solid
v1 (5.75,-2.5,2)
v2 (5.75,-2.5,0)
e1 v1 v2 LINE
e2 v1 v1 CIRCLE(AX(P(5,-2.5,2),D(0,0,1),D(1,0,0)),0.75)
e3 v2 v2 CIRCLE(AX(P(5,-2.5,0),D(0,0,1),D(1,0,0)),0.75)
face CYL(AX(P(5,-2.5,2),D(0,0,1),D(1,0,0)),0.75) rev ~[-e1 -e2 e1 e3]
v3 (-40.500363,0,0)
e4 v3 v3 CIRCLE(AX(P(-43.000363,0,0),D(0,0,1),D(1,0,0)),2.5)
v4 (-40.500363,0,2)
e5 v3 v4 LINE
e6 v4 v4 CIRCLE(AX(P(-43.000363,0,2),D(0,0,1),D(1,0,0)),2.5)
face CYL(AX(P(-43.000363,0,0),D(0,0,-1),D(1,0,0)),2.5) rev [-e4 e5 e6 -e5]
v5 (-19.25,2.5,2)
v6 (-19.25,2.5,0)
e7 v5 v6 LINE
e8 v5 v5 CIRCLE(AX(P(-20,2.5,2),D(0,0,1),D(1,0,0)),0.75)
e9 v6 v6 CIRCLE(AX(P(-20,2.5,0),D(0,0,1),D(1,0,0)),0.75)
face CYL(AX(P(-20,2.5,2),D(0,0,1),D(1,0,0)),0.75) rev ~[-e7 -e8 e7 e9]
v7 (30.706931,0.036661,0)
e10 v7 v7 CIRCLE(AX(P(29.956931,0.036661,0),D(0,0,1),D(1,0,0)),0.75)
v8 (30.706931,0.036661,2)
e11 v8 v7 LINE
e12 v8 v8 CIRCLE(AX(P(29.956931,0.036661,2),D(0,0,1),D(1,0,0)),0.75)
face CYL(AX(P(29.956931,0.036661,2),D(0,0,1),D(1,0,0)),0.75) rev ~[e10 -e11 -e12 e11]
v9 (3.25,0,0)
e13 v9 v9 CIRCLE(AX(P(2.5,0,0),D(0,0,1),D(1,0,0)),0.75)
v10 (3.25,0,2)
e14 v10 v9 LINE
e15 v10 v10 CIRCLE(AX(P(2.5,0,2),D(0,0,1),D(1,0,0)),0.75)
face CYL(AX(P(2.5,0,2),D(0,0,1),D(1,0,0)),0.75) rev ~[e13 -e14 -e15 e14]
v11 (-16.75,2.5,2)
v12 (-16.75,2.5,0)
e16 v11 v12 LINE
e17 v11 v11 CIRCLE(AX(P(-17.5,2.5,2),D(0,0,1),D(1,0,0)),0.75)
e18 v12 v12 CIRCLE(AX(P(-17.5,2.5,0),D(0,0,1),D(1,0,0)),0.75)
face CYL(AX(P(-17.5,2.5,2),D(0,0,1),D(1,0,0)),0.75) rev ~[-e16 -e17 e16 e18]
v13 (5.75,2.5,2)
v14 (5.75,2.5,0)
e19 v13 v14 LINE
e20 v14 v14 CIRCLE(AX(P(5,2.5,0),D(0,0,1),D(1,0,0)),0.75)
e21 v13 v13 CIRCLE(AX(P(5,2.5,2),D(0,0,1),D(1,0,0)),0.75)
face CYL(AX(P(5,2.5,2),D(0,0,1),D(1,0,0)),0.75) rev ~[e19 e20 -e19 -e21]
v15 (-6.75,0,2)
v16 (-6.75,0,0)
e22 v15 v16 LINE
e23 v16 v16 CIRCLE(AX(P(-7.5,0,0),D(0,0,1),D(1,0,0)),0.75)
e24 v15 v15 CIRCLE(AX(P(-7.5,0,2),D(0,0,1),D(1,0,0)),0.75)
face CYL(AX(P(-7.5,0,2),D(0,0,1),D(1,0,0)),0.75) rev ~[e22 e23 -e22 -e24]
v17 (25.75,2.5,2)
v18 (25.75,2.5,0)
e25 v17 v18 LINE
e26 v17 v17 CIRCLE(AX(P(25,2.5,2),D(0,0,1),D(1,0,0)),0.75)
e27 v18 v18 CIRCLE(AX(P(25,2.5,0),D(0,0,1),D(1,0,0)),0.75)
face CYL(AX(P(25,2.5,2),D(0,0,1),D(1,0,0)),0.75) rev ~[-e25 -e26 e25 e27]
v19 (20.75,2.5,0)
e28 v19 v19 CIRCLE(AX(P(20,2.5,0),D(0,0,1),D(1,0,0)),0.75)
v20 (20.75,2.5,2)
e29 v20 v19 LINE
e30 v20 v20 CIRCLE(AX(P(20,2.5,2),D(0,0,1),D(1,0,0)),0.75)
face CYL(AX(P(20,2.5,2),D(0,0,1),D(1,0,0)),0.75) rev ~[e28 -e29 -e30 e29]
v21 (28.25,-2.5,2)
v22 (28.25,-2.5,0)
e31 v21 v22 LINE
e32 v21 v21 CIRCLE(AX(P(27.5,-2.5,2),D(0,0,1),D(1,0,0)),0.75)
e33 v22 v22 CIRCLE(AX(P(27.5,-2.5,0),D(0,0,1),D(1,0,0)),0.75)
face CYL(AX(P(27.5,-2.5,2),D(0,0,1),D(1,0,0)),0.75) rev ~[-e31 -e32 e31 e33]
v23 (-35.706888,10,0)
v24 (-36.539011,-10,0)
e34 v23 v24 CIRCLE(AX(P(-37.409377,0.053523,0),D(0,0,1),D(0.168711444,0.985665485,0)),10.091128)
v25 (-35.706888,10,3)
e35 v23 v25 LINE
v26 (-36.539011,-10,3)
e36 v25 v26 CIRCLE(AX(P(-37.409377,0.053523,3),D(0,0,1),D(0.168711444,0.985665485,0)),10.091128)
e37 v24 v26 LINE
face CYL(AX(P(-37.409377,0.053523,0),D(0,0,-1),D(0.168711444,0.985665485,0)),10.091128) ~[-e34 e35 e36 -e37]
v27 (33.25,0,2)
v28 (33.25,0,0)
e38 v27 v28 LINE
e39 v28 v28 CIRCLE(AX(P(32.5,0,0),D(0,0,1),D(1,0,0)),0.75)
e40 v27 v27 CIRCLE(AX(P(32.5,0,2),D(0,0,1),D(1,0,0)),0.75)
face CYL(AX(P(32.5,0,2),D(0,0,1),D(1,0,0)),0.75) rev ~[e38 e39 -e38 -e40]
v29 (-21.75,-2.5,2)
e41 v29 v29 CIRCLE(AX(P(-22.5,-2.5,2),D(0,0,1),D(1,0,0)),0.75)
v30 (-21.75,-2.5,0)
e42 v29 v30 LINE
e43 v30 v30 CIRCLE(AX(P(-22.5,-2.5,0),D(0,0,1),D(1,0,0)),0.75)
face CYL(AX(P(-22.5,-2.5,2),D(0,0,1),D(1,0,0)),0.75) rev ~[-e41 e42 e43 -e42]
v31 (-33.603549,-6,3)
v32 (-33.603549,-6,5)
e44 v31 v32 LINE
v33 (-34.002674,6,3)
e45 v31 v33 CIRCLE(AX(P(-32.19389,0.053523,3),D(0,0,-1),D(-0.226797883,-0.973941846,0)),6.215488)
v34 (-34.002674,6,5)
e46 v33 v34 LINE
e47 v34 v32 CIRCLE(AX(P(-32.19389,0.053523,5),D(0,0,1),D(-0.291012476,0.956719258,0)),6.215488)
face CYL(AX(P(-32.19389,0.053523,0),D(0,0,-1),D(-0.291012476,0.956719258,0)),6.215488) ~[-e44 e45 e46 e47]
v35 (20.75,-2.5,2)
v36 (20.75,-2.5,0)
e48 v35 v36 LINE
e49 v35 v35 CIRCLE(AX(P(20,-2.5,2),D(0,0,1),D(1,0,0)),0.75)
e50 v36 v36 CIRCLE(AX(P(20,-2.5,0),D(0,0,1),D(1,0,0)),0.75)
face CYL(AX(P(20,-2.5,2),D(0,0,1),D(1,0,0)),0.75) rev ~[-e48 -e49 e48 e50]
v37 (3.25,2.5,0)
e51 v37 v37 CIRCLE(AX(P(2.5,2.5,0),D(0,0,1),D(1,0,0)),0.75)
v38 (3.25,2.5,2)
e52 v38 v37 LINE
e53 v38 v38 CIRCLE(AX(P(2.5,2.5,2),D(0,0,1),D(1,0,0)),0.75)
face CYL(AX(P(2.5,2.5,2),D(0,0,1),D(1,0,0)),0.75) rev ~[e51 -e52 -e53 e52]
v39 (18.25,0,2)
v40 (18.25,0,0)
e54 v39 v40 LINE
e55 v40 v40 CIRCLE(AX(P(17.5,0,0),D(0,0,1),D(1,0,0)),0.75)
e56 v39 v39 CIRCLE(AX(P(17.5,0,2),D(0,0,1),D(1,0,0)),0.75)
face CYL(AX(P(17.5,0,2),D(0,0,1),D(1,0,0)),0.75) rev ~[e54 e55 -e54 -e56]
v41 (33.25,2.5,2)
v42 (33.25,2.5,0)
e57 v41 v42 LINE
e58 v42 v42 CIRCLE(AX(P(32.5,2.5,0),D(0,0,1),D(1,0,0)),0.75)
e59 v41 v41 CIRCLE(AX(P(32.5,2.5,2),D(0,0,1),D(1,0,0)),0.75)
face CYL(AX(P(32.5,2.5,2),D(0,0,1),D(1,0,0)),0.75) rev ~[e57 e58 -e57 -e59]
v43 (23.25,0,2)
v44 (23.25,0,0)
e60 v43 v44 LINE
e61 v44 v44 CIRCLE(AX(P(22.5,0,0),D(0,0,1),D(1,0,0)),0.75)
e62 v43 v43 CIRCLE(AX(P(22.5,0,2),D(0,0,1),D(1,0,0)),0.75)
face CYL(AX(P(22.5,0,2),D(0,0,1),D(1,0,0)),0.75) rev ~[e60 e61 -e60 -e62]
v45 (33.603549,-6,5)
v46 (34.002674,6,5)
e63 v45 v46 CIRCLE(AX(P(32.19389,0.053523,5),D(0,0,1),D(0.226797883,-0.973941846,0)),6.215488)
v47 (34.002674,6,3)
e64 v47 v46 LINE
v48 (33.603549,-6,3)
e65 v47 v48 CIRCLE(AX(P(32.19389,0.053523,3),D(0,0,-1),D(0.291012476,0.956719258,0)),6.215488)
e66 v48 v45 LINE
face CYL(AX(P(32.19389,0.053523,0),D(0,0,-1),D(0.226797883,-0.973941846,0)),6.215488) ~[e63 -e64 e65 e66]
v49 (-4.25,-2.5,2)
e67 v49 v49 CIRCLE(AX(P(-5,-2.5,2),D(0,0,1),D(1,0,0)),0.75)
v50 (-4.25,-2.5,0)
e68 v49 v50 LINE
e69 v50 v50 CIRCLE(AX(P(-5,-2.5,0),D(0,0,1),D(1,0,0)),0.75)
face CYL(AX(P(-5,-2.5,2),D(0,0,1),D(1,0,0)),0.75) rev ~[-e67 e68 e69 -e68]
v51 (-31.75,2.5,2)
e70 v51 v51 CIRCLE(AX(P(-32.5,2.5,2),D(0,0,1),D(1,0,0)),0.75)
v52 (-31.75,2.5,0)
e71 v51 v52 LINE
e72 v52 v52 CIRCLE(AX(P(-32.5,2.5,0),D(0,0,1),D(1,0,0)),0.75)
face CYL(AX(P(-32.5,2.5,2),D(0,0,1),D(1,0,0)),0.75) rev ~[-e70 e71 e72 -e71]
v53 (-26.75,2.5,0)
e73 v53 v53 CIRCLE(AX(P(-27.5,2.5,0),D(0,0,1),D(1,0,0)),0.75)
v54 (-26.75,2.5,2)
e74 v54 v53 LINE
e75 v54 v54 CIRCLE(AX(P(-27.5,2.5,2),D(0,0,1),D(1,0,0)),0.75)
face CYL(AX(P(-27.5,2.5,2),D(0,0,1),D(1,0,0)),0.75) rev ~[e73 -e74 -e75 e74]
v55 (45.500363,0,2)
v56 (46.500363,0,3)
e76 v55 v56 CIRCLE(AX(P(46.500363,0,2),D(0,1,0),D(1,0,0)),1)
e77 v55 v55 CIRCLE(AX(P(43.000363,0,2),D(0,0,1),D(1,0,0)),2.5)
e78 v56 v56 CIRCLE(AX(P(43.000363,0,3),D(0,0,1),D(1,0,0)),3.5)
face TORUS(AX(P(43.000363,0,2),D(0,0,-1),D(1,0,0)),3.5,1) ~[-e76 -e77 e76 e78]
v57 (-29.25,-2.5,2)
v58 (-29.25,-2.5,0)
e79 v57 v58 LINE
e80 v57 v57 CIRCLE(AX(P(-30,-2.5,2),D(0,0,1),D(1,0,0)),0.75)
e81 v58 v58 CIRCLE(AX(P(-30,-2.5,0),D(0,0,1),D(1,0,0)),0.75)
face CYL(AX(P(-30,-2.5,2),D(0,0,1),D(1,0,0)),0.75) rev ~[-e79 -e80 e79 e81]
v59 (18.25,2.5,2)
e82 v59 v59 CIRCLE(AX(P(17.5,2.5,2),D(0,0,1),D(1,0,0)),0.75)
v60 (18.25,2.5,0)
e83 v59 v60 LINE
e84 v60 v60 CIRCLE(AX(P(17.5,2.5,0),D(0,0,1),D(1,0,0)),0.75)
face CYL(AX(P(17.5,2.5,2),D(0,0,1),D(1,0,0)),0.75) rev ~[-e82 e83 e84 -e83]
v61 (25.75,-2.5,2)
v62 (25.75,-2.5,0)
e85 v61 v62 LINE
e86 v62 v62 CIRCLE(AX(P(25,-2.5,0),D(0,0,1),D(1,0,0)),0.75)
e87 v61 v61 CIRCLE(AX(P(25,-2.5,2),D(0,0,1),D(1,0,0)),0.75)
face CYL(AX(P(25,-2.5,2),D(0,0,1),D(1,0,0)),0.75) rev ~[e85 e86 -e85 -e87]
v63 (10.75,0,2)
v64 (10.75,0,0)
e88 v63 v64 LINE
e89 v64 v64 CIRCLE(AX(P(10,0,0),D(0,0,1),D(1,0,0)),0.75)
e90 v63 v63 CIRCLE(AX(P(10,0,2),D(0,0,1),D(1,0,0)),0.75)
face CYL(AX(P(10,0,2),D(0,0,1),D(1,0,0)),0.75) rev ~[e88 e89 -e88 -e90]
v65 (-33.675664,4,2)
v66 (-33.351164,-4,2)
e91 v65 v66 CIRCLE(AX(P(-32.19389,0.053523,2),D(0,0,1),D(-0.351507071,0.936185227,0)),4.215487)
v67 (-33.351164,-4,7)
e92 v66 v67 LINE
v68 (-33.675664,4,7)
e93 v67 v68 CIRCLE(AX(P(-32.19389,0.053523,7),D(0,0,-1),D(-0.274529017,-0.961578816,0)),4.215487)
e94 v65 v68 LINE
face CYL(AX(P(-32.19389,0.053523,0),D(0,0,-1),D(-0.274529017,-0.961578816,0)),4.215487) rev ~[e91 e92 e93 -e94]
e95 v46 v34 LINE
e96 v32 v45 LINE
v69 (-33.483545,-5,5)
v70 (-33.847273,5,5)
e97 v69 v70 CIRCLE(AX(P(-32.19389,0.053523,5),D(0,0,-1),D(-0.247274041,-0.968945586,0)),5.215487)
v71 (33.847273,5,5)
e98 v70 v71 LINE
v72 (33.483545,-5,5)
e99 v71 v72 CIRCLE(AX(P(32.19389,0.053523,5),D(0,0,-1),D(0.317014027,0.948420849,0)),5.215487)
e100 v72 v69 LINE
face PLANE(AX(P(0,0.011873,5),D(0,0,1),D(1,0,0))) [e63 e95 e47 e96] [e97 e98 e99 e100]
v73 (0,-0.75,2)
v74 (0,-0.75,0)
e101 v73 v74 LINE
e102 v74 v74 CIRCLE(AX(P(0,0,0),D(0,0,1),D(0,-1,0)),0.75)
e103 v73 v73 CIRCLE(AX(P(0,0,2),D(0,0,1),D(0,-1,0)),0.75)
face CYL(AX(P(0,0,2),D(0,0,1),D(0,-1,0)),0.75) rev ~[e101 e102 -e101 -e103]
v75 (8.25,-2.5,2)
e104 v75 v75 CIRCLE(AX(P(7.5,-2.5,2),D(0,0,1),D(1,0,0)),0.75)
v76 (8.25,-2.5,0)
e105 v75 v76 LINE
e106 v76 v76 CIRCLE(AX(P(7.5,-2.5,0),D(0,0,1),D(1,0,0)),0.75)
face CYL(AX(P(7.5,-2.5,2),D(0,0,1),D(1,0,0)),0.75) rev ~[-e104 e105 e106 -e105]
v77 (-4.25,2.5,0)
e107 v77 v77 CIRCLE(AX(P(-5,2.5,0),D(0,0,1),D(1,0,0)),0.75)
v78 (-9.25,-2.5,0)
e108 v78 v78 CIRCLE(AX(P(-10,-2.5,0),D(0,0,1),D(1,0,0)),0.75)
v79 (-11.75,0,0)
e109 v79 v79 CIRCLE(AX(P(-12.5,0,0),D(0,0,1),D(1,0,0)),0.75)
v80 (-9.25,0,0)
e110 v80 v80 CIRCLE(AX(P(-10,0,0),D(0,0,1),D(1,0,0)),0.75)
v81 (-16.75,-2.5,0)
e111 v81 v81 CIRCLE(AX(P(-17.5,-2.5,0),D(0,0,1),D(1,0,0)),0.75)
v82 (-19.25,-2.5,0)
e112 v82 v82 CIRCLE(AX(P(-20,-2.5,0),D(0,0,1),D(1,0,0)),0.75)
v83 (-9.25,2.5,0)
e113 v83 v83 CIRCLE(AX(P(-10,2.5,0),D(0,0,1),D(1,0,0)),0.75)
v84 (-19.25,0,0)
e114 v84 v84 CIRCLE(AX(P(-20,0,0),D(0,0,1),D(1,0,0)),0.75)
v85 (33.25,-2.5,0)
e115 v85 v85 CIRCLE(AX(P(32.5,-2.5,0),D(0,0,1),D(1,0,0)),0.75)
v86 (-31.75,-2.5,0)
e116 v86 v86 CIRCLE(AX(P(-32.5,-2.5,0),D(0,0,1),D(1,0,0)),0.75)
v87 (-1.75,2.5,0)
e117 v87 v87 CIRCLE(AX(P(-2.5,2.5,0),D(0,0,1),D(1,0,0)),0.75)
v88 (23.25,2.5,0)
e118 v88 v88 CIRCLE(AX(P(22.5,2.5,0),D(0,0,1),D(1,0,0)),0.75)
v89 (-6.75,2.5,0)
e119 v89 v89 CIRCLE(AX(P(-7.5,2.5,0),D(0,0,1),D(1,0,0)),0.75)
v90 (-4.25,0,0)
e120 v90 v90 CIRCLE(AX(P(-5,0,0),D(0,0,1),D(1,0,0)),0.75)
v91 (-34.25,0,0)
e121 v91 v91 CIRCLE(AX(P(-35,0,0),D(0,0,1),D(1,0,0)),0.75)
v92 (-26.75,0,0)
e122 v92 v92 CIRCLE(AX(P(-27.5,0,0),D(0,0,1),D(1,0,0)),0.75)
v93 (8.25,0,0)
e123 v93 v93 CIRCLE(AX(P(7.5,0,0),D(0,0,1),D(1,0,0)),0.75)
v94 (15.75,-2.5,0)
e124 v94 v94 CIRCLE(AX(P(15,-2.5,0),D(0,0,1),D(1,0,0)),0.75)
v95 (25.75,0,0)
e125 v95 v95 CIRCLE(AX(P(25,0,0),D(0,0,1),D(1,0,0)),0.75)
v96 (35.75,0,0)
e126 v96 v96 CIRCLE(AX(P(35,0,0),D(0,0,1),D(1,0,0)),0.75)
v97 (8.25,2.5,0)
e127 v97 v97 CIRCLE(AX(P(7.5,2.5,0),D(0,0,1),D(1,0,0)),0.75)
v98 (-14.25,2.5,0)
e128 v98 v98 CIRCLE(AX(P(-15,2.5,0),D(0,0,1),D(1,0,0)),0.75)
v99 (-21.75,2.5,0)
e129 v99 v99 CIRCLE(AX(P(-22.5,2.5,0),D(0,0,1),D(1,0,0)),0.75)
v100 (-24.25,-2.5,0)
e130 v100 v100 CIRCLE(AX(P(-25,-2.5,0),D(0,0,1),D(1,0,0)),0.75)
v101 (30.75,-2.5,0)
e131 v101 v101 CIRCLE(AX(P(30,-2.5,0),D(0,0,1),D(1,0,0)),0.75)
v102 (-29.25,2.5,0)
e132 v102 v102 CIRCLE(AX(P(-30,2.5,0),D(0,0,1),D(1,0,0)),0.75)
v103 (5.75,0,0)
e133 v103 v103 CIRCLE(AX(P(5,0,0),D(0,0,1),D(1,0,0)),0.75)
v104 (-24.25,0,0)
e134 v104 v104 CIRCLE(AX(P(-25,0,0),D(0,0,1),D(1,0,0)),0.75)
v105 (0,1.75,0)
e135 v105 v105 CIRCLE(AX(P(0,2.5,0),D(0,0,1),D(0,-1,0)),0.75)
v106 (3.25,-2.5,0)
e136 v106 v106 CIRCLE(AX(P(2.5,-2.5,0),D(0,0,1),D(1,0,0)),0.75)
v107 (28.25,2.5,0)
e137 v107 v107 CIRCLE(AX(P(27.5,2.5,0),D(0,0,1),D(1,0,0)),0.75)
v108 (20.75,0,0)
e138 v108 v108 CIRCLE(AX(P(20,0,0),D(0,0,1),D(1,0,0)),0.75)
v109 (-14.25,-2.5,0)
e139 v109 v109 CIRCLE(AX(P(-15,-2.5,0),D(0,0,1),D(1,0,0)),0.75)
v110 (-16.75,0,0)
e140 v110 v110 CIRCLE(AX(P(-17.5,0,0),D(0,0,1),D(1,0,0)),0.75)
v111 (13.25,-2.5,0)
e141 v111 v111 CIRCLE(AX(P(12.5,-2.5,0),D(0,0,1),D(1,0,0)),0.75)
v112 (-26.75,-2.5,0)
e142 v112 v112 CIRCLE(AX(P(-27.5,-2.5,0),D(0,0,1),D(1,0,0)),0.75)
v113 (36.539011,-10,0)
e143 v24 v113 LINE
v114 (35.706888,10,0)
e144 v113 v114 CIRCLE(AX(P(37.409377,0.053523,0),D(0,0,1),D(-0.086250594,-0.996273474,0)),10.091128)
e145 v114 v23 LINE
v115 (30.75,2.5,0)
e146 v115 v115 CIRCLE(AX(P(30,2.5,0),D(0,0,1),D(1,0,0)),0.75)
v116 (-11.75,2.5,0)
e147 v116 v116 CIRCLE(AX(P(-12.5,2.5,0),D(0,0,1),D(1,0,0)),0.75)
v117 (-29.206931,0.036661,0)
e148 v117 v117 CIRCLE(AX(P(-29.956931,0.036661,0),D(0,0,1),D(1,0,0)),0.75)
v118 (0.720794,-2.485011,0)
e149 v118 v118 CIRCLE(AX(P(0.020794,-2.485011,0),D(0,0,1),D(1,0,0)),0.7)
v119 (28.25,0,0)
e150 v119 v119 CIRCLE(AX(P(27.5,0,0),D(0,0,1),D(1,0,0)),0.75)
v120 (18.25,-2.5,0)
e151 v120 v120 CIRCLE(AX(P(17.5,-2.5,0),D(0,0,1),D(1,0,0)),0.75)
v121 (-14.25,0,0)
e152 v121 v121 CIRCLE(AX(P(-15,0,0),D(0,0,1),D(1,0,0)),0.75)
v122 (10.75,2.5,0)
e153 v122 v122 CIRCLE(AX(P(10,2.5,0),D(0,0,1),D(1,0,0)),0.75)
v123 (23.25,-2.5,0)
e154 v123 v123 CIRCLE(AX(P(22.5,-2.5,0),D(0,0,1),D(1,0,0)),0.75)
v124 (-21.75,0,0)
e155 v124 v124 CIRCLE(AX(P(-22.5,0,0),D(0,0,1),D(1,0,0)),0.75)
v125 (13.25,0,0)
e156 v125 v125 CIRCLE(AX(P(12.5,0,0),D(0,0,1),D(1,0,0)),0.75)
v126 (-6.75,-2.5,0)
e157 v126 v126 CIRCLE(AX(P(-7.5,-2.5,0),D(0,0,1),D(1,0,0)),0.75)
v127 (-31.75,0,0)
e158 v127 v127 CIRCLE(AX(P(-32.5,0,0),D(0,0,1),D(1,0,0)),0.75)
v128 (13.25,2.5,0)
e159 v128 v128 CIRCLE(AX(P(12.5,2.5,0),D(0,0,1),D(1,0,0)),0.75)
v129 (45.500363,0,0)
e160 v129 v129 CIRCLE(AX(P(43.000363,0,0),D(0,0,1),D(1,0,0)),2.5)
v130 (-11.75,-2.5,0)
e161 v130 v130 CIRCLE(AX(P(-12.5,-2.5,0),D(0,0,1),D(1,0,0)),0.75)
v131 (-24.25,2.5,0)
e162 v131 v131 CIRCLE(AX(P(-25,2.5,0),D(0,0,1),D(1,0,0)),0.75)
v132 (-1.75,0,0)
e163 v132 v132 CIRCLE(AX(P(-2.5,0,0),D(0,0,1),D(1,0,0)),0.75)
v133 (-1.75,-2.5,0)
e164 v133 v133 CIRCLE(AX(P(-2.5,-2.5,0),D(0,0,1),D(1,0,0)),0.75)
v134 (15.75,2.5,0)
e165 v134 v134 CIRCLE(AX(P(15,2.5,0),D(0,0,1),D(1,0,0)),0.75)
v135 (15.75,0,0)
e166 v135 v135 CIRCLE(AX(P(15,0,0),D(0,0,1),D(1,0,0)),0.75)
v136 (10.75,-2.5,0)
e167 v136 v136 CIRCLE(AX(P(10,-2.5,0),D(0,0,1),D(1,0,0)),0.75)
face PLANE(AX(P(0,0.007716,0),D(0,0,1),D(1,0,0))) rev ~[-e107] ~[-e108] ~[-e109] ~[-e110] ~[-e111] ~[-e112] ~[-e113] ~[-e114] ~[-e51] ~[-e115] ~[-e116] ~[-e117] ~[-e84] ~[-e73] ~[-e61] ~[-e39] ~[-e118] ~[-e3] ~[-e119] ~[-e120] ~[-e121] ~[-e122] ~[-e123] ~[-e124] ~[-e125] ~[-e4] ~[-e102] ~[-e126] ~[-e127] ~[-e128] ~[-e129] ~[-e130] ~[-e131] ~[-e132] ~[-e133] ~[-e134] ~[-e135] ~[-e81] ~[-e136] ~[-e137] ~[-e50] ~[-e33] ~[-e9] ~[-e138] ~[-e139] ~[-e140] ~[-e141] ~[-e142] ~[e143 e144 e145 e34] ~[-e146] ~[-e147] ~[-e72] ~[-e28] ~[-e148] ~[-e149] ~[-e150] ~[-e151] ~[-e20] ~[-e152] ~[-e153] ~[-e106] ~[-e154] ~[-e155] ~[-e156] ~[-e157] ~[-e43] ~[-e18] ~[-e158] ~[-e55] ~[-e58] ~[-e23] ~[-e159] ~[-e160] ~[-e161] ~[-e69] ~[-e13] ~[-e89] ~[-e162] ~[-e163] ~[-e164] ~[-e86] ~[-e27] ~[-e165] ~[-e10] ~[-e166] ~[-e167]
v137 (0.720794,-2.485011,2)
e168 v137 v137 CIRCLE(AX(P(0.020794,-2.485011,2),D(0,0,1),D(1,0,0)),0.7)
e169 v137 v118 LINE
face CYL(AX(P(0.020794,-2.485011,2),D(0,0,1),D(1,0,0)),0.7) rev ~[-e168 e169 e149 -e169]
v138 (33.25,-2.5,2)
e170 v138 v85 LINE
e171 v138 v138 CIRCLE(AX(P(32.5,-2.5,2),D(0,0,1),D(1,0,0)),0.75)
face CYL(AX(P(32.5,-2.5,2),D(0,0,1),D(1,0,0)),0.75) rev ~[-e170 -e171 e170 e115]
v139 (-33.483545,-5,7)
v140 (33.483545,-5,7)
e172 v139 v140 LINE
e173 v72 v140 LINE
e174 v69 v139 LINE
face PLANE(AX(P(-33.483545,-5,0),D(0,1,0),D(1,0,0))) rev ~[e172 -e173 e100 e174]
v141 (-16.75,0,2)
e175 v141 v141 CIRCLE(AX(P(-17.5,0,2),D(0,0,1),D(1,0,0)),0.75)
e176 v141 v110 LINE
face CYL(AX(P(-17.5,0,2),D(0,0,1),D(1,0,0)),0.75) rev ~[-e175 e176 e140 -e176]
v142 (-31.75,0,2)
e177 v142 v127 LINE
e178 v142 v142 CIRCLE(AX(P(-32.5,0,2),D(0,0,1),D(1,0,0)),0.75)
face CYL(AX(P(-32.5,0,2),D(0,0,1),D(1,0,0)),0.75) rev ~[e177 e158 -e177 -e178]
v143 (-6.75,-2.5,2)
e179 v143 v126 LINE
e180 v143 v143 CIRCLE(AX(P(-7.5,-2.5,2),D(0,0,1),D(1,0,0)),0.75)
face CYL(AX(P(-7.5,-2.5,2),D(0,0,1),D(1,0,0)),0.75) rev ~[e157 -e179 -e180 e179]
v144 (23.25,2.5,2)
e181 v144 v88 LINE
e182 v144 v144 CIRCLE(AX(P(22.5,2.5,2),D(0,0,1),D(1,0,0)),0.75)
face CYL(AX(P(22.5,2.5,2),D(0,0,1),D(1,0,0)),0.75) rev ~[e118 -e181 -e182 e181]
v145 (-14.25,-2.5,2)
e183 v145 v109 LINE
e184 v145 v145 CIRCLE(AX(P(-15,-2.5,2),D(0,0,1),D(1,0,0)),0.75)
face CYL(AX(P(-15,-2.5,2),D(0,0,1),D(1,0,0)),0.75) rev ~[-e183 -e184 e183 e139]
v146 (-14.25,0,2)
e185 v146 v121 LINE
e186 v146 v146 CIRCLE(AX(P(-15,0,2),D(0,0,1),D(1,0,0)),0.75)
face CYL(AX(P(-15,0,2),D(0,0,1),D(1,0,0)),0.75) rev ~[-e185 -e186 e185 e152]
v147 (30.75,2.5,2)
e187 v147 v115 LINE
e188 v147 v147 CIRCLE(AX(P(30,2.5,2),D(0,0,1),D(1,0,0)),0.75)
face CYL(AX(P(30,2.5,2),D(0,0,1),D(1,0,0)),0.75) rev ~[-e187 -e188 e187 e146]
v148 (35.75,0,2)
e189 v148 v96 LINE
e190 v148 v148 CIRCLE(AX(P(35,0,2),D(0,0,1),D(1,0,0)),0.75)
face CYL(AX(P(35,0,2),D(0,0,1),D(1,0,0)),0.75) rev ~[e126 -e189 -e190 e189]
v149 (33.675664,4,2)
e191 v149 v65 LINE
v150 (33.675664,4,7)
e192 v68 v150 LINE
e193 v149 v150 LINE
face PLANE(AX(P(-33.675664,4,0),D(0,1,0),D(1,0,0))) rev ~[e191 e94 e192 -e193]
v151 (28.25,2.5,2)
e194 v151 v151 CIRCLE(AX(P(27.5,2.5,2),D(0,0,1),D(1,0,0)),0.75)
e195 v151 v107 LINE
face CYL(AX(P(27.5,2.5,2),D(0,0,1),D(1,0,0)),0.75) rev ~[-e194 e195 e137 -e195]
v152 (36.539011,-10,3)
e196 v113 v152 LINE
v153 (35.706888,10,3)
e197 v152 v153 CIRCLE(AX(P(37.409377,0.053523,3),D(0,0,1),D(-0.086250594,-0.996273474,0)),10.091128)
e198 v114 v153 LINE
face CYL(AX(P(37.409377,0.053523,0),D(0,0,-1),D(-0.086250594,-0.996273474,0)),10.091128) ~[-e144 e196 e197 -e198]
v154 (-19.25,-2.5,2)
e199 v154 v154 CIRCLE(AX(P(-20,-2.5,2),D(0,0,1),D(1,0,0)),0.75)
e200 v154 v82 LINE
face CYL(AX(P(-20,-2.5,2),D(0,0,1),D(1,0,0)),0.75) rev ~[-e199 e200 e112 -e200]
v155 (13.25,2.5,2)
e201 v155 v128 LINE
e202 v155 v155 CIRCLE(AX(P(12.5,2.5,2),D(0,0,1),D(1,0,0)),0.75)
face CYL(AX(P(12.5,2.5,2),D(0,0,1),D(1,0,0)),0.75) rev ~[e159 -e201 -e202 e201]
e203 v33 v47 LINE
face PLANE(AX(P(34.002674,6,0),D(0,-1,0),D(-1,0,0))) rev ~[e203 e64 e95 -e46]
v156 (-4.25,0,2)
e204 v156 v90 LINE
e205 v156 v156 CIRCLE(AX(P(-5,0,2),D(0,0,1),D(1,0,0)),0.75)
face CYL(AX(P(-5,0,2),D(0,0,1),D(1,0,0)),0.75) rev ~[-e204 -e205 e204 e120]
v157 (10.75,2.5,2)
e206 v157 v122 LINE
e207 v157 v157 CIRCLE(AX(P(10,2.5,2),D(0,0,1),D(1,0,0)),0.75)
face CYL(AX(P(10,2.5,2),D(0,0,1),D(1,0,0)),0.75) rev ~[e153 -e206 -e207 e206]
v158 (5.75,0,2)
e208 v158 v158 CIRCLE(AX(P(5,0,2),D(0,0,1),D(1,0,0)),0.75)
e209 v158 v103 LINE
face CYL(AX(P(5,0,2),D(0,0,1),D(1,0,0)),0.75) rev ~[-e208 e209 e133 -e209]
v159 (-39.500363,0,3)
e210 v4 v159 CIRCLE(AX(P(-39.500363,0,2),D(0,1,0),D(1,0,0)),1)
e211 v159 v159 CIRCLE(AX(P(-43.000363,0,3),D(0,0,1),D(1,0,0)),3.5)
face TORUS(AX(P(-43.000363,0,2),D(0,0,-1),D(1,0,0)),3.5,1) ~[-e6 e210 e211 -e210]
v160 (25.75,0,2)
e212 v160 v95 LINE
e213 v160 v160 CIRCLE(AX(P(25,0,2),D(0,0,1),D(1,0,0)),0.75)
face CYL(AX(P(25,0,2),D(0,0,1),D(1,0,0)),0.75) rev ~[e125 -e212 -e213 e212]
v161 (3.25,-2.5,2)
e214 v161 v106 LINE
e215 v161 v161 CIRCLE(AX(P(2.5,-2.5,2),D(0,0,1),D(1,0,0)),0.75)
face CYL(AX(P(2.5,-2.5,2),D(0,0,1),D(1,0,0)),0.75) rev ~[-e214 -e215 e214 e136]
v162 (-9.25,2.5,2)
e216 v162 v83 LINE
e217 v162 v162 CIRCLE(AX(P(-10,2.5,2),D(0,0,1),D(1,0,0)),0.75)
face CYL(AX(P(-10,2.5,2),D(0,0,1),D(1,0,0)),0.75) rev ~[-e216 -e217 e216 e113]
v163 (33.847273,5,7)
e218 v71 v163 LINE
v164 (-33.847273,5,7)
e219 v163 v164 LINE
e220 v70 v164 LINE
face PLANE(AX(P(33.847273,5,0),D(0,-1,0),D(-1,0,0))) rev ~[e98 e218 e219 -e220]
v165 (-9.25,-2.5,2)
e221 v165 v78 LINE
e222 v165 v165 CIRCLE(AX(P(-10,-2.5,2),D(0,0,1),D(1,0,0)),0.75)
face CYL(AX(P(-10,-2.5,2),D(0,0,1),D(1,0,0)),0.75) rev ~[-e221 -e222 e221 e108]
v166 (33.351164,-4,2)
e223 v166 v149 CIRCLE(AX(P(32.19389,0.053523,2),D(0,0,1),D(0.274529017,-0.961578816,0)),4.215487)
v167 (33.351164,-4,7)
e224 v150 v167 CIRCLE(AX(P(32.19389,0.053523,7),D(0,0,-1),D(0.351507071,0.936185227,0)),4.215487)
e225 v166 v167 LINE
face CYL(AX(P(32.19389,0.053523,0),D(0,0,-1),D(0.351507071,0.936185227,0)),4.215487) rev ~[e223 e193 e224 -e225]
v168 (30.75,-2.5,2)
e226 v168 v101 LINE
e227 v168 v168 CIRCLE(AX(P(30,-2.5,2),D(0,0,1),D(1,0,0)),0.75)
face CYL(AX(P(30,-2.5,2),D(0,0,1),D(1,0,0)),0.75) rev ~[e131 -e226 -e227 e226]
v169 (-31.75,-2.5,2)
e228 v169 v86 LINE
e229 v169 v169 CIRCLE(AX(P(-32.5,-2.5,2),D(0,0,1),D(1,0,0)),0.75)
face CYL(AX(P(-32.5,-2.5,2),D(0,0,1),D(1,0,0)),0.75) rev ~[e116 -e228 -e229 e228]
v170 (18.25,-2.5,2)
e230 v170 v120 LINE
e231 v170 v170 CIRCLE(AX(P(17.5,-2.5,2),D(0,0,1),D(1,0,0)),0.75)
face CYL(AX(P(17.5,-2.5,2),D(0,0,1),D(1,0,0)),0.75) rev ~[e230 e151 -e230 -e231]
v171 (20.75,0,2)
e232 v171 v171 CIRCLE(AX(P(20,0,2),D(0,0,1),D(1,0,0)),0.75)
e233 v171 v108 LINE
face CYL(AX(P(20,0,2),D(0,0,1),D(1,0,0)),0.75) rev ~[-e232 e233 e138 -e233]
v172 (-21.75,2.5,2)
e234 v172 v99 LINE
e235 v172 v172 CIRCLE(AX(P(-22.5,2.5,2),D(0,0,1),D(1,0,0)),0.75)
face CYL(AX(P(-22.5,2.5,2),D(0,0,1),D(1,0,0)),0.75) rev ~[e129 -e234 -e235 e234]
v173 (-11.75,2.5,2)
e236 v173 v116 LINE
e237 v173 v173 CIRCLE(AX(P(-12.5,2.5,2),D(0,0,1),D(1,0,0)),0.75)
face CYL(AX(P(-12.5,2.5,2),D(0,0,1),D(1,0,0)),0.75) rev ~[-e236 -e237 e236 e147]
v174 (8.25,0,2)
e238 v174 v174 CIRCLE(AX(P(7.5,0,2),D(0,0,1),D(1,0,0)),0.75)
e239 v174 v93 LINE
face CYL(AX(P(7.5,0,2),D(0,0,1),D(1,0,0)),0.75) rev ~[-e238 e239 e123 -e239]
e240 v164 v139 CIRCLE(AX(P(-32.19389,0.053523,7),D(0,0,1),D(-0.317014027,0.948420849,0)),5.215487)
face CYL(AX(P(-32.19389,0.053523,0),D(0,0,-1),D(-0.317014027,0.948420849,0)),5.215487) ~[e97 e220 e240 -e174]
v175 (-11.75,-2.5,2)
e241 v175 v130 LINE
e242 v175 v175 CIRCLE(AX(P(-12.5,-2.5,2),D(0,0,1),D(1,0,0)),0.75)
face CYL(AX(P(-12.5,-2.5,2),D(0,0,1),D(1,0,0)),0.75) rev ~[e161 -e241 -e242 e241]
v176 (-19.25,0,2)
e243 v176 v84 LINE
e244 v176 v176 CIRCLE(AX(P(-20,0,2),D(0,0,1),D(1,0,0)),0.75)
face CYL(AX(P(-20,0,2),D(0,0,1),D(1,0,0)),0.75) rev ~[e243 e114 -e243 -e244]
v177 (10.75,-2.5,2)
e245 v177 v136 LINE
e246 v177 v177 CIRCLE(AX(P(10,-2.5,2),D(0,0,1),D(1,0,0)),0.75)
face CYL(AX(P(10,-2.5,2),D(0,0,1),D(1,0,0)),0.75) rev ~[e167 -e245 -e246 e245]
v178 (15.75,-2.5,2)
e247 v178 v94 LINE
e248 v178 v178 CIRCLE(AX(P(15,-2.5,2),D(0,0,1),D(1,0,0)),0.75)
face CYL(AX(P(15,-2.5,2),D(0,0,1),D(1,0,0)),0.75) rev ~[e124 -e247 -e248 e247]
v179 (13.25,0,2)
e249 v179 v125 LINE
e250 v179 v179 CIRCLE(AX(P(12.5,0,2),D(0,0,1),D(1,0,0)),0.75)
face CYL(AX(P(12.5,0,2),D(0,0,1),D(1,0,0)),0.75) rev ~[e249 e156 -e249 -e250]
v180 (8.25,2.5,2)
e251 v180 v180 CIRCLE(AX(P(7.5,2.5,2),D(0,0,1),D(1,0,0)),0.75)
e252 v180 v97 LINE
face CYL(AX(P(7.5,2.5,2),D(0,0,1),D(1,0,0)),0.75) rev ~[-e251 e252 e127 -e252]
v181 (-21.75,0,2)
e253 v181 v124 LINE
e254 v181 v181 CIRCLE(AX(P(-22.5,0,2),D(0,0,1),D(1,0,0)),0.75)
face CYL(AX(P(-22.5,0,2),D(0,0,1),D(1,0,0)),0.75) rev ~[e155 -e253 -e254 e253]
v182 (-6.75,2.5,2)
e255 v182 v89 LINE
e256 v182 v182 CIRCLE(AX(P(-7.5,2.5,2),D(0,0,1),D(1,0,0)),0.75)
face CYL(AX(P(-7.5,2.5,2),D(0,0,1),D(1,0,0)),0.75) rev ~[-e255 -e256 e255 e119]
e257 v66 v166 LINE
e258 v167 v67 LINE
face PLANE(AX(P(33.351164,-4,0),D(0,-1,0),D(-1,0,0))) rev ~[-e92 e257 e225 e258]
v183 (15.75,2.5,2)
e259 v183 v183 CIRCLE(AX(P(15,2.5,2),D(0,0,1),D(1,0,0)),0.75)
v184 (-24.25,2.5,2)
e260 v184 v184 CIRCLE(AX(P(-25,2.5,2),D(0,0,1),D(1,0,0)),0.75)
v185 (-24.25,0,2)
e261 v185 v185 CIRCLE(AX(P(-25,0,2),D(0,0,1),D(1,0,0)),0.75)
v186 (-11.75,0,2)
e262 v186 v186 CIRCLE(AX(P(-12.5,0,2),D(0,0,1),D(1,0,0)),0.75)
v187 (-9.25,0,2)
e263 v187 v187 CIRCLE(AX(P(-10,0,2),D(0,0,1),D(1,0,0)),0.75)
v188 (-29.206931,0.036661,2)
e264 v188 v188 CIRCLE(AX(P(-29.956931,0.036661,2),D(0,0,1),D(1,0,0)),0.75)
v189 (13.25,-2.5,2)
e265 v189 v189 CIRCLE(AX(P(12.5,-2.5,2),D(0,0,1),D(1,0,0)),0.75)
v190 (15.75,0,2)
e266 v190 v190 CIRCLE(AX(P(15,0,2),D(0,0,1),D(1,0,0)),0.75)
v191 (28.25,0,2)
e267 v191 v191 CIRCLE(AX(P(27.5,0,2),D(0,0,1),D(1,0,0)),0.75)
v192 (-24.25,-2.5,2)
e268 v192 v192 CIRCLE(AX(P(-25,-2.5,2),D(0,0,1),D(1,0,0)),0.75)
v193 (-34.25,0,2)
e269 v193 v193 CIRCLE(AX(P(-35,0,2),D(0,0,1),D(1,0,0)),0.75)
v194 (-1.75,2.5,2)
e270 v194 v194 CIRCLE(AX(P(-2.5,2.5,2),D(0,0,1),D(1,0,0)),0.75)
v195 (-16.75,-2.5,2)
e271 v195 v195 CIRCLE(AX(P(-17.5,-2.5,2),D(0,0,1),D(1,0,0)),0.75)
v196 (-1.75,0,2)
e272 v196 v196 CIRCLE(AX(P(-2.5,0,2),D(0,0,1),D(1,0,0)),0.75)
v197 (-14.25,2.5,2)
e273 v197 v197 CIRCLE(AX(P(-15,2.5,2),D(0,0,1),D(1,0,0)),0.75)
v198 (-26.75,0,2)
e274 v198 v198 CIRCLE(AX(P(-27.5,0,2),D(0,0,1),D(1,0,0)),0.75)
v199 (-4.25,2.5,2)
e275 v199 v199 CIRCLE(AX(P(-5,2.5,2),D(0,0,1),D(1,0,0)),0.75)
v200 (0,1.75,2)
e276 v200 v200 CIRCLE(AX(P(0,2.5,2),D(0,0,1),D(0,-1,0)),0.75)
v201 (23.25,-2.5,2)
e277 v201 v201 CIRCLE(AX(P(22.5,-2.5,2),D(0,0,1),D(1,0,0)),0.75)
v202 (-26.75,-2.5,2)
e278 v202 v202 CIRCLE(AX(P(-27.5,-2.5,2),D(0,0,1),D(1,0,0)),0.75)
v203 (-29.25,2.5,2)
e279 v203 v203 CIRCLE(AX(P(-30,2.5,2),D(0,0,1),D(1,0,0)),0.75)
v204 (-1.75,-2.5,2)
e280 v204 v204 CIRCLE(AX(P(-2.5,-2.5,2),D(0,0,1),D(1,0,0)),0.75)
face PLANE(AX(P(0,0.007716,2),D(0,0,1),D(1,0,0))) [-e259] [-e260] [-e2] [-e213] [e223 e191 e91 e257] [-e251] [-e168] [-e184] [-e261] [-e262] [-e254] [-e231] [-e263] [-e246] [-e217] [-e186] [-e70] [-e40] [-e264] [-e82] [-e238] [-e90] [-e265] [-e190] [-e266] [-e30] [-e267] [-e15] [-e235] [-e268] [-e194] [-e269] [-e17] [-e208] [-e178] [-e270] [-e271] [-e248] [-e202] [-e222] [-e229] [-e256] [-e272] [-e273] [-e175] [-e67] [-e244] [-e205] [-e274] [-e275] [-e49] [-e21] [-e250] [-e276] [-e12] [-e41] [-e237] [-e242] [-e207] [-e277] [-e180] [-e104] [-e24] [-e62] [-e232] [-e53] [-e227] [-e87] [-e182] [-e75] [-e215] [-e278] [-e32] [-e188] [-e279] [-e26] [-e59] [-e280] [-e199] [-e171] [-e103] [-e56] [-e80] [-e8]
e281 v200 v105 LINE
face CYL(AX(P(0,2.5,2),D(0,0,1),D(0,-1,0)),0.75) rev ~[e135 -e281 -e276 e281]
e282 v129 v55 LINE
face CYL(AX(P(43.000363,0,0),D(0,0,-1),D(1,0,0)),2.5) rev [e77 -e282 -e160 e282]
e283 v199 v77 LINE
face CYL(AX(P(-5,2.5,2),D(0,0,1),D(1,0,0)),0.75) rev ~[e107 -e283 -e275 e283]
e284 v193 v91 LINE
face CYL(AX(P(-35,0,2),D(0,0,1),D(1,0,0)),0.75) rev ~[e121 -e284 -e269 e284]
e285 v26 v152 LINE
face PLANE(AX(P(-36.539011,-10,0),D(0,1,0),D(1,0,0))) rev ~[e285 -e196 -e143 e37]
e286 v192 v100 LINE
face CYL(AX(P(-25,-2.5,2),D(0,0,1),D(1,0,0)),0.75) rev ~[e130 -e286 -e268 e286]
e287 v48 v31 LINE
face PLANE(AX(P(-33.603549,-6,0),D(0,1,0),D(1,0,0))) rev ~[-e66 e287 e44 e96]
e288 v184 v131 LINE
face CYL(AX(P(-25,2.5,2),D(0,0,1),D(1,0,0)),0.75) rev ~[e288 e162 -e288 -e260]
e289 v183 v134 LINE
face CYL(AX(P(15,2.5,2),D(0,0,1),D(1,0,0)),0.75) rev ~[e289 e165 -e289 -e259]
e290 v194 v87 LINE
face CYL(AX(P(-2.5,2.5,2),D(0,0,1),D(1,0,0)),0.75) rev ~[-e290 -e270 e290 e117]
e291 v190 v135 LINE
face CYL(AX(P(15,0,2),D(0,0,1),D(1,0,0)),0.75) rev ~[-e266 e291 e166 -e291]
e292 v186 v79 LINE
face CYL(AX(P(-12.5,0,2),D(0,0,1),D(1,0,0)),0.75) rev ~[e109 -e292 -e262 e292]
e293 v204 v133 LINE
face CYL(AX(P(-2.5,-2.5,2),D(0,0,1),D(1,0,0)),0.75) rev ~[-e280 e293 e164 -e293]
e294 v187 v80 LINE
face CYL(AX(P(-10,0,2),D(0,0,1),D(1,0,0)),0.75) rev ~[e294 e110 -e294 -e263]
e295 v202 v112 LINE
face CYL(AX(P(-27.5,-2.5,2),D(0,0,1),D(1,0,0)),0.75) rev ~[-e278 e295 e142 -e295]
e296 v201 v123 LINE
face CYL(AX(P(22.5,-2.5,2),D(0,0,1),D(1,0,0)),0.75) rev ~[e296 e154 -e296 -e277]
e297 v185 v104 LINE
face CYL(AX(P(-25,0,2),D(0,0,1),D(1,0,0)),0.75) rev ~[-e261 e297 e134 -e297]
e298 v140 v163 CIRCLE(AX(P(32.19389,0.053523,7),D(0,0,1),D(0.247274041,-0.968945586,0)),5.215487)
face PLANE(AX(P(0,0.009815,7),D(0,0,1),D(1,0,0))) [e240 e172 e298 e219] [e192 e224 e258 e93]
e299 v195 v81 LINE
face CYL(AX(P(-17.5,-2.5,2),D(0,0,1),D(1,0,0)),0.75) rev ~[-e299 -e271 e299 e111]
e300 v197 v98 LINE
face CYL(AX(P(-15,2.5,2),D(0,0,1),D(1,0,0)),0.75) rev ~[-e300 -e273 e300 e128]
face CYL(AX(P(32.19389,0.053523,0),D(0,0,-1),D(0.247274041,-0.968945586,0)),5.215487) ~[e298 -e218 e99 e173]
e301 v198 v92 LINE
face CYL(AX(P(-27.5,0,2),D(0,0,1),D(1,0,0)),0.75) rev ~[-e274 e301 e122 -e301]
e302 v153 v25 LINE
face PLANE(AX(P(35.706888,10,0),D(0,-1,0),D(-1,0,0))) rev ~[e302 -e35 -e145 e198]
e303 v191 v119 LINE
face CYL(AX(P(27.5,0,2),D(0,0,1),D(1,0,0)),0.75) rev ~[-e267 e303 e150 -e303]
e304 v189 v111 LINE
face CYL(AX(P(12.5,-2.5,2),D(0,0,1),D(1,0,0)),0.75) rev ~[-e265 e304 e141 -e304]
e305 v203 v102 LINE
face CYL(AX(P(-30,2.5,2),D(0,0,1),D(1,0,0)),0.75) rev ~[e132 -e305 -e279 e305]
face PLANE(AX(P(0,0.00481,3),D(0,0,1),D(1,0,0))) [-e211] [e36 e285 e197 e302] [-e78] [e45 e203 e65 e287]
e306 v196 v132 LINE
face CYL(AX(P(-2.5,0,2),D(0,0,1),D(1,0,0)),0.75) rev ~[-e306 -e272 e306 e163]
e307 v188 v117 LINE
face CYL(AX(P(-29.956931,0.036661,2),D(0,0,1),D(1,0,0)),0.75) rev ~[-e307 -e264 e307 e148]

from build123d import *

# Parameters (mm, degrees)
F0_R     = 2.5
F1_DEPTH = 3
F2_DEPTH = 5
F3_DEPTH = 7
F4_DEPTH = 2
F5_R     = 0.75
F5_R_2   = 0.7
F6_DEPTH = 25
F7_R     = 1


with BuildPart() as f1:
    # F0 (on Top) → F1 (new body)
    with BuildSketch(Plane.XY):
        with BuildLine():
            Line((-36.539011, -10), (0, -10))
            Line((0, -10), (36.539011, -10))
            ThreePointArc((36.539011, -10), (47.491782, 0.473014), (35.706888, 10))
            Line((35.706888, 10), (0, 10))
            Line((0, 10), (-35.706888, 10))
            ThreePointArc((-35.706888, 10), (-47.491782, 0.473014), (-36.539011, -10))
        make_face()
        with Locations((-43.000363, 0)):
            Circle(F0_R, mode=Mode.SUBTRACT)
        with BuildLine():
            Line((33.603549, -6), (0, -6))
            Line((0, -6), (-33.603549, -6))
            ThreePointArc((-33.603549, -6), (-38.405942, -0.153092), (-34.002674, 6))
            Line((-34.002674, 6), (0, 6))
            Line((0, 6), (34.002674, 6))
            ThreePointArc((34.002674, 6), (38.405942, -0.153092), (33.603549, -6))
        make_face(mode=Mode.SUBTRACT)
        with Locations((43.000363, 0)):
            Circle(F0_R, mode=Mode.SUBTRACT)
    extrude(amount=F1_DEPTH)

    # F0 (on Top) → F2 (join)
    with BuildSketch(Plane.XY):
        with BuildLine():
            Line((-33.603549, -6), (0, -6))
            Line((0, -6), (33.603549, -6))
            ThreePointArc((33.603549, -6), (38.405942, -0.153092), (34.002674, 6))
            Line((34.002674, 6), (0, 6))
            Line((0, 6), (-34.002674, 6))
            ThreePointArc((-34.002674, 6), (-38.405942, -0.153092), (-33.603549, -6))
        make_face()
        with BuildLine():
            Line((-33.847273, 5), (0, 5))
            Line((0, 5), (33.847273, 5))
            ThreePointArc((33.847273, 5), (37.405931, -0.136053), (33.483545, -5))
            Line((33.483545, -5), (0, -5))
            Line((0, -5), (-33.483545, -5))
            ThreePointArc((-33.483545, -5), (-37.405931, -0.136053), (-33.847273, 5))
        make_face(mode=Mode.SUBTRACT)
    extrude(amount=F2_DEPTH)

    # F0 (on Top) → F3 (join)
    with BuildSketch(Plane.XY):
        with BuildLine():
            Line((33.847273, 5), (0, 5))
            Line((0, 5), (-33.847273, 5))
            ThreePointArc((-33.847273, 5), (-37.405931, -0.136053), (-33.483545, -5))
            Line((-33.483545, -5), (0, -5))
            Line((0, -5), (33.483545, -5))
            ThreePointArc((33.483545, -5), (37.405931, -0.136053), (33.847273, 5))
        make_face()
        with BuildLine():
            Line((33.351164, -4), (0, -4))
            Line((0, -4), (-33.351164, -4))
            ThreePointArc((-33.351164, -4), (-36.405914, -0.117327), (-33.675664, 4))
            Line((-33.675664, 4), (0, 4))
            Line((0, 4), (33.675664, 4))
            ThreePointArc((33.675664, 4), (36.405914, -0.117327), (33.351164, -4))
        make_face(mode=Mode.SUBTRACT)
    extrude(amount=F3_DEPTH)

    # F0 (on Top) → F4 (join)
    with BuildSketch(Plane.XY):
        with BuildLine():
            Line((-33.351164, -4), (0, -4))
            Line((0, -4), (33.351164, -4))
            ThreePointArc((33.351164, -4), (36.405914, -0.117327), (33.675664, 4))
            Line((33.675664, 4), (0, 4))
            Line((0, 4), (-33.675664, 4))
            ThreePointArc((-33.675664, 4), (-36.405914, -0.117327), (-33.351164, -4))
        make_face()
    extrude(amount=F4_DEPTH)

    # F5 (on face) → F6 (cut)
    with BuildSketch(Plane.XY.offset(2)):
        with BuildLine():
            ThreePointArc((0, 0.75), (-0.75, 0), (0, -0.75))
            ThreePointArc((0, -0.75), (0.75, 0), (0, 0.75))
        make_face()
        with BuildLine():
            ThreePointArc((0, 3.25), (-0.75, 2.5), (0, 1.75))
            ThreePointArc((0, 1.75), (0.75, 2.5), (0, 3.25))
        make_face()
        with Locations((2.5, 0)):
            Circle(F5_R)
        with Locations((2.5, 2.5)):
            Circle(F5_R)
        with Locations((5, 0)):
            Circle(F5_R)
        with Locations((5, 2.5)):
            Circle(F5_R)
        with Locations((7.5, 0)):
            Circle(F5_R)
        with Locations((7.5, 2.5)):
            Circle(F5_R)
        with Locations((10, 0)):
            Circle(F5_R)
        with Locations((10, 2.5)):
            Circle(F5_R)
        with Locations((12.5, 0)):
            Circle(F5_R)
        with Locations((12.5, 2.5)):
            Circle(F5_R)
        with Locations((15, 0)):
            Circle(F5_R)
        with Locations((15, 2.5)):
            Circle(F5_R)
        with Locations((17.5, 0)):
            Circle(F5_R)
        with Locations((17.5, 2.5)):
            Circle(F5_R)
        with Locations((20, 0)):
            Circle(F5_R)
        with Locations((20, 2.5)):
            Circle(F5_R)
        with Locations((22.5, 0)):
            Circle(F5_R)
        with Locations((22.5, 2.5)):
            Circle(F5_R)
        with Locations((25, 0)):
            Circle(F5_R)
        with Locations((25, 2.5)):
            Circle(F5_R)
        with Locations((2.5, -2.5)):
            Circle(F5_R)
        with Locations((5, -2.5)):
            Circle(F5_R)
        with Locations((7.5, -2.5)):
            Circle(F5_R)
        with Locations((10, -2.5)):
            Circle(F5_R)
        with Locations((12.5, -2.5)):
            Circle(F5_R)
        with Locations((15, -2.5)):
            Circle(F5_R)
        with Locations((17.5, -2.5)):
            Circle(F5_R)
        with Locations((20, -2.5)):
            Circle(F5_R)
        with Locations((22.5, -2.5)):
            Circle(F5_R)
        with Locations((25, -2.5)):
            Circle(F5_R)
        with Locations((27.5, 0)):
            Circle(F5_R)
        with Locations((27.5, -2.5)):
            Circle(F5_R)
        with Locations((-12.5, 0)):
            Circle(F5_R)
        with Locations((-17.5, 0)):
            Circle(F5_R)
        with Locations((-7.5, 0)):
            Circle(F5_R)
        with Locations((-5, 0)):
            Circle(F5_R)
        with Locations((-15, 0)):
            Circle(F5_R)
        with Locations((-20, 0)):
            Circle(F5_R)
        with Locations((-10, 0)):
            Circle(F5_R)
        with Locations((-12.5, 2.5)):
            Circle(F5_R)
        with Locations((-10, 2.5)):
            Circle(F5_R)
        with Locations((-7.5, 2.5)):
            Circle(F5_R)
        with Locations((-5, 2.5)):
            Circle(F5_R)
        with Locations((-2.5, 0)):
            Circle(F5_R)
        with Locations((-2.5, 2.5)):
            Circle(F5_R)
        with Locations((-17.5, 2.5)):
            Circle(F5_R)
        with Locations((-15, 2.5)):
            Circle(F5_R)
        with Locations((-20, 2.5)):
            Circle(F5_R)
        with Locations((-27.5, 0)):
            Circle(F5_R)
        with Locations((-22.5, 0)):
            Circle(F5_R)
        with Locations((-25, 0)):
            Circle(F5_R)
        with Locations((-27.5, -2.5)):
            Circle(F5_R)
        with Locations((-25, 2.5)):
            Circle(F5_R)
        with Locations((-22.5, 2.5)):
            Circle(F5_R)
        with Locations((-17.5, -2.5)):
            Circle(F5_R)
        with Locations((-27.5, 2.5)):
            Circle(F5_R)
        with Locations((-20, -2.5)):
            Circle(F5_R)
        with Locations((-22.5, -2.5)):
            Circle(F5_R)
        with Locations((-25, -2.5)):
            Circle(F5_R)
        with Locations((-2.5, -2.5)):
            Circle(F5_R)
        with Locations((-5, -2.5)):
            Circle(F5_R)
        with Locations((-7.5, -2.5)):
            Circle(F5_R)
        with Locations((-10, -2.5)):
            Circle(F5_R)
        with Locations((-12.5, -2.5)):
            Circle(F5_R)
        with Locations((-15, -2.5)):
            Circle(F5_R)
        with Locations((0.020794, -2.485011)):
            Circle(F5_R_2)
        with Locations((-29.956931, 0.036661)):
            Circle(F5_R)
        with Locations((29.956931, 0.036661)):
            Circle(F5_R)
        with Locations((30, -2.5)):
            Circle(F5_R)
        with Locations((32.5, 0)):
            Circle(F5_R)
        with Locations((32.5, -2.5)):
            Circle(F5_R)
        with Locations((35, 0)):
            Circle(F5_R)
        with Locations((27.5, 2.5)):
            Circle(F5_R)
        with Locations((30, 2.5)):
            Circle(F5_R)
        with Locations((32.5, 2.5)):
            Circle(F5_R)
        with Locations((-30, 2.5)):
            Circle(F5_R)
        with Locations((-32.5, 0)):
            Circle(F5_R)
        with Locations((-30, -2.5)):
            Circle(F5_R)
        with Locations((-32.5, -2.5)):
            Circle(F5_R)
        with Locations((-32.5, 2.5)):
            Circle(F5_R)
        with Locations((-35, 0)):
            Circle(F5_R)
    extrude(amount=-F6_DEPTH, mode=Mode.SUBTRACT)

    # F7
    f7_edges = [f1.edges().sort_by_distance(p)[0] for p in [
        (-45.500363, 0, 3),
        (40.500363, 0, 3),
    ]]
    fillet(f7_edges, radius=F7_R)


solid = f1.part
